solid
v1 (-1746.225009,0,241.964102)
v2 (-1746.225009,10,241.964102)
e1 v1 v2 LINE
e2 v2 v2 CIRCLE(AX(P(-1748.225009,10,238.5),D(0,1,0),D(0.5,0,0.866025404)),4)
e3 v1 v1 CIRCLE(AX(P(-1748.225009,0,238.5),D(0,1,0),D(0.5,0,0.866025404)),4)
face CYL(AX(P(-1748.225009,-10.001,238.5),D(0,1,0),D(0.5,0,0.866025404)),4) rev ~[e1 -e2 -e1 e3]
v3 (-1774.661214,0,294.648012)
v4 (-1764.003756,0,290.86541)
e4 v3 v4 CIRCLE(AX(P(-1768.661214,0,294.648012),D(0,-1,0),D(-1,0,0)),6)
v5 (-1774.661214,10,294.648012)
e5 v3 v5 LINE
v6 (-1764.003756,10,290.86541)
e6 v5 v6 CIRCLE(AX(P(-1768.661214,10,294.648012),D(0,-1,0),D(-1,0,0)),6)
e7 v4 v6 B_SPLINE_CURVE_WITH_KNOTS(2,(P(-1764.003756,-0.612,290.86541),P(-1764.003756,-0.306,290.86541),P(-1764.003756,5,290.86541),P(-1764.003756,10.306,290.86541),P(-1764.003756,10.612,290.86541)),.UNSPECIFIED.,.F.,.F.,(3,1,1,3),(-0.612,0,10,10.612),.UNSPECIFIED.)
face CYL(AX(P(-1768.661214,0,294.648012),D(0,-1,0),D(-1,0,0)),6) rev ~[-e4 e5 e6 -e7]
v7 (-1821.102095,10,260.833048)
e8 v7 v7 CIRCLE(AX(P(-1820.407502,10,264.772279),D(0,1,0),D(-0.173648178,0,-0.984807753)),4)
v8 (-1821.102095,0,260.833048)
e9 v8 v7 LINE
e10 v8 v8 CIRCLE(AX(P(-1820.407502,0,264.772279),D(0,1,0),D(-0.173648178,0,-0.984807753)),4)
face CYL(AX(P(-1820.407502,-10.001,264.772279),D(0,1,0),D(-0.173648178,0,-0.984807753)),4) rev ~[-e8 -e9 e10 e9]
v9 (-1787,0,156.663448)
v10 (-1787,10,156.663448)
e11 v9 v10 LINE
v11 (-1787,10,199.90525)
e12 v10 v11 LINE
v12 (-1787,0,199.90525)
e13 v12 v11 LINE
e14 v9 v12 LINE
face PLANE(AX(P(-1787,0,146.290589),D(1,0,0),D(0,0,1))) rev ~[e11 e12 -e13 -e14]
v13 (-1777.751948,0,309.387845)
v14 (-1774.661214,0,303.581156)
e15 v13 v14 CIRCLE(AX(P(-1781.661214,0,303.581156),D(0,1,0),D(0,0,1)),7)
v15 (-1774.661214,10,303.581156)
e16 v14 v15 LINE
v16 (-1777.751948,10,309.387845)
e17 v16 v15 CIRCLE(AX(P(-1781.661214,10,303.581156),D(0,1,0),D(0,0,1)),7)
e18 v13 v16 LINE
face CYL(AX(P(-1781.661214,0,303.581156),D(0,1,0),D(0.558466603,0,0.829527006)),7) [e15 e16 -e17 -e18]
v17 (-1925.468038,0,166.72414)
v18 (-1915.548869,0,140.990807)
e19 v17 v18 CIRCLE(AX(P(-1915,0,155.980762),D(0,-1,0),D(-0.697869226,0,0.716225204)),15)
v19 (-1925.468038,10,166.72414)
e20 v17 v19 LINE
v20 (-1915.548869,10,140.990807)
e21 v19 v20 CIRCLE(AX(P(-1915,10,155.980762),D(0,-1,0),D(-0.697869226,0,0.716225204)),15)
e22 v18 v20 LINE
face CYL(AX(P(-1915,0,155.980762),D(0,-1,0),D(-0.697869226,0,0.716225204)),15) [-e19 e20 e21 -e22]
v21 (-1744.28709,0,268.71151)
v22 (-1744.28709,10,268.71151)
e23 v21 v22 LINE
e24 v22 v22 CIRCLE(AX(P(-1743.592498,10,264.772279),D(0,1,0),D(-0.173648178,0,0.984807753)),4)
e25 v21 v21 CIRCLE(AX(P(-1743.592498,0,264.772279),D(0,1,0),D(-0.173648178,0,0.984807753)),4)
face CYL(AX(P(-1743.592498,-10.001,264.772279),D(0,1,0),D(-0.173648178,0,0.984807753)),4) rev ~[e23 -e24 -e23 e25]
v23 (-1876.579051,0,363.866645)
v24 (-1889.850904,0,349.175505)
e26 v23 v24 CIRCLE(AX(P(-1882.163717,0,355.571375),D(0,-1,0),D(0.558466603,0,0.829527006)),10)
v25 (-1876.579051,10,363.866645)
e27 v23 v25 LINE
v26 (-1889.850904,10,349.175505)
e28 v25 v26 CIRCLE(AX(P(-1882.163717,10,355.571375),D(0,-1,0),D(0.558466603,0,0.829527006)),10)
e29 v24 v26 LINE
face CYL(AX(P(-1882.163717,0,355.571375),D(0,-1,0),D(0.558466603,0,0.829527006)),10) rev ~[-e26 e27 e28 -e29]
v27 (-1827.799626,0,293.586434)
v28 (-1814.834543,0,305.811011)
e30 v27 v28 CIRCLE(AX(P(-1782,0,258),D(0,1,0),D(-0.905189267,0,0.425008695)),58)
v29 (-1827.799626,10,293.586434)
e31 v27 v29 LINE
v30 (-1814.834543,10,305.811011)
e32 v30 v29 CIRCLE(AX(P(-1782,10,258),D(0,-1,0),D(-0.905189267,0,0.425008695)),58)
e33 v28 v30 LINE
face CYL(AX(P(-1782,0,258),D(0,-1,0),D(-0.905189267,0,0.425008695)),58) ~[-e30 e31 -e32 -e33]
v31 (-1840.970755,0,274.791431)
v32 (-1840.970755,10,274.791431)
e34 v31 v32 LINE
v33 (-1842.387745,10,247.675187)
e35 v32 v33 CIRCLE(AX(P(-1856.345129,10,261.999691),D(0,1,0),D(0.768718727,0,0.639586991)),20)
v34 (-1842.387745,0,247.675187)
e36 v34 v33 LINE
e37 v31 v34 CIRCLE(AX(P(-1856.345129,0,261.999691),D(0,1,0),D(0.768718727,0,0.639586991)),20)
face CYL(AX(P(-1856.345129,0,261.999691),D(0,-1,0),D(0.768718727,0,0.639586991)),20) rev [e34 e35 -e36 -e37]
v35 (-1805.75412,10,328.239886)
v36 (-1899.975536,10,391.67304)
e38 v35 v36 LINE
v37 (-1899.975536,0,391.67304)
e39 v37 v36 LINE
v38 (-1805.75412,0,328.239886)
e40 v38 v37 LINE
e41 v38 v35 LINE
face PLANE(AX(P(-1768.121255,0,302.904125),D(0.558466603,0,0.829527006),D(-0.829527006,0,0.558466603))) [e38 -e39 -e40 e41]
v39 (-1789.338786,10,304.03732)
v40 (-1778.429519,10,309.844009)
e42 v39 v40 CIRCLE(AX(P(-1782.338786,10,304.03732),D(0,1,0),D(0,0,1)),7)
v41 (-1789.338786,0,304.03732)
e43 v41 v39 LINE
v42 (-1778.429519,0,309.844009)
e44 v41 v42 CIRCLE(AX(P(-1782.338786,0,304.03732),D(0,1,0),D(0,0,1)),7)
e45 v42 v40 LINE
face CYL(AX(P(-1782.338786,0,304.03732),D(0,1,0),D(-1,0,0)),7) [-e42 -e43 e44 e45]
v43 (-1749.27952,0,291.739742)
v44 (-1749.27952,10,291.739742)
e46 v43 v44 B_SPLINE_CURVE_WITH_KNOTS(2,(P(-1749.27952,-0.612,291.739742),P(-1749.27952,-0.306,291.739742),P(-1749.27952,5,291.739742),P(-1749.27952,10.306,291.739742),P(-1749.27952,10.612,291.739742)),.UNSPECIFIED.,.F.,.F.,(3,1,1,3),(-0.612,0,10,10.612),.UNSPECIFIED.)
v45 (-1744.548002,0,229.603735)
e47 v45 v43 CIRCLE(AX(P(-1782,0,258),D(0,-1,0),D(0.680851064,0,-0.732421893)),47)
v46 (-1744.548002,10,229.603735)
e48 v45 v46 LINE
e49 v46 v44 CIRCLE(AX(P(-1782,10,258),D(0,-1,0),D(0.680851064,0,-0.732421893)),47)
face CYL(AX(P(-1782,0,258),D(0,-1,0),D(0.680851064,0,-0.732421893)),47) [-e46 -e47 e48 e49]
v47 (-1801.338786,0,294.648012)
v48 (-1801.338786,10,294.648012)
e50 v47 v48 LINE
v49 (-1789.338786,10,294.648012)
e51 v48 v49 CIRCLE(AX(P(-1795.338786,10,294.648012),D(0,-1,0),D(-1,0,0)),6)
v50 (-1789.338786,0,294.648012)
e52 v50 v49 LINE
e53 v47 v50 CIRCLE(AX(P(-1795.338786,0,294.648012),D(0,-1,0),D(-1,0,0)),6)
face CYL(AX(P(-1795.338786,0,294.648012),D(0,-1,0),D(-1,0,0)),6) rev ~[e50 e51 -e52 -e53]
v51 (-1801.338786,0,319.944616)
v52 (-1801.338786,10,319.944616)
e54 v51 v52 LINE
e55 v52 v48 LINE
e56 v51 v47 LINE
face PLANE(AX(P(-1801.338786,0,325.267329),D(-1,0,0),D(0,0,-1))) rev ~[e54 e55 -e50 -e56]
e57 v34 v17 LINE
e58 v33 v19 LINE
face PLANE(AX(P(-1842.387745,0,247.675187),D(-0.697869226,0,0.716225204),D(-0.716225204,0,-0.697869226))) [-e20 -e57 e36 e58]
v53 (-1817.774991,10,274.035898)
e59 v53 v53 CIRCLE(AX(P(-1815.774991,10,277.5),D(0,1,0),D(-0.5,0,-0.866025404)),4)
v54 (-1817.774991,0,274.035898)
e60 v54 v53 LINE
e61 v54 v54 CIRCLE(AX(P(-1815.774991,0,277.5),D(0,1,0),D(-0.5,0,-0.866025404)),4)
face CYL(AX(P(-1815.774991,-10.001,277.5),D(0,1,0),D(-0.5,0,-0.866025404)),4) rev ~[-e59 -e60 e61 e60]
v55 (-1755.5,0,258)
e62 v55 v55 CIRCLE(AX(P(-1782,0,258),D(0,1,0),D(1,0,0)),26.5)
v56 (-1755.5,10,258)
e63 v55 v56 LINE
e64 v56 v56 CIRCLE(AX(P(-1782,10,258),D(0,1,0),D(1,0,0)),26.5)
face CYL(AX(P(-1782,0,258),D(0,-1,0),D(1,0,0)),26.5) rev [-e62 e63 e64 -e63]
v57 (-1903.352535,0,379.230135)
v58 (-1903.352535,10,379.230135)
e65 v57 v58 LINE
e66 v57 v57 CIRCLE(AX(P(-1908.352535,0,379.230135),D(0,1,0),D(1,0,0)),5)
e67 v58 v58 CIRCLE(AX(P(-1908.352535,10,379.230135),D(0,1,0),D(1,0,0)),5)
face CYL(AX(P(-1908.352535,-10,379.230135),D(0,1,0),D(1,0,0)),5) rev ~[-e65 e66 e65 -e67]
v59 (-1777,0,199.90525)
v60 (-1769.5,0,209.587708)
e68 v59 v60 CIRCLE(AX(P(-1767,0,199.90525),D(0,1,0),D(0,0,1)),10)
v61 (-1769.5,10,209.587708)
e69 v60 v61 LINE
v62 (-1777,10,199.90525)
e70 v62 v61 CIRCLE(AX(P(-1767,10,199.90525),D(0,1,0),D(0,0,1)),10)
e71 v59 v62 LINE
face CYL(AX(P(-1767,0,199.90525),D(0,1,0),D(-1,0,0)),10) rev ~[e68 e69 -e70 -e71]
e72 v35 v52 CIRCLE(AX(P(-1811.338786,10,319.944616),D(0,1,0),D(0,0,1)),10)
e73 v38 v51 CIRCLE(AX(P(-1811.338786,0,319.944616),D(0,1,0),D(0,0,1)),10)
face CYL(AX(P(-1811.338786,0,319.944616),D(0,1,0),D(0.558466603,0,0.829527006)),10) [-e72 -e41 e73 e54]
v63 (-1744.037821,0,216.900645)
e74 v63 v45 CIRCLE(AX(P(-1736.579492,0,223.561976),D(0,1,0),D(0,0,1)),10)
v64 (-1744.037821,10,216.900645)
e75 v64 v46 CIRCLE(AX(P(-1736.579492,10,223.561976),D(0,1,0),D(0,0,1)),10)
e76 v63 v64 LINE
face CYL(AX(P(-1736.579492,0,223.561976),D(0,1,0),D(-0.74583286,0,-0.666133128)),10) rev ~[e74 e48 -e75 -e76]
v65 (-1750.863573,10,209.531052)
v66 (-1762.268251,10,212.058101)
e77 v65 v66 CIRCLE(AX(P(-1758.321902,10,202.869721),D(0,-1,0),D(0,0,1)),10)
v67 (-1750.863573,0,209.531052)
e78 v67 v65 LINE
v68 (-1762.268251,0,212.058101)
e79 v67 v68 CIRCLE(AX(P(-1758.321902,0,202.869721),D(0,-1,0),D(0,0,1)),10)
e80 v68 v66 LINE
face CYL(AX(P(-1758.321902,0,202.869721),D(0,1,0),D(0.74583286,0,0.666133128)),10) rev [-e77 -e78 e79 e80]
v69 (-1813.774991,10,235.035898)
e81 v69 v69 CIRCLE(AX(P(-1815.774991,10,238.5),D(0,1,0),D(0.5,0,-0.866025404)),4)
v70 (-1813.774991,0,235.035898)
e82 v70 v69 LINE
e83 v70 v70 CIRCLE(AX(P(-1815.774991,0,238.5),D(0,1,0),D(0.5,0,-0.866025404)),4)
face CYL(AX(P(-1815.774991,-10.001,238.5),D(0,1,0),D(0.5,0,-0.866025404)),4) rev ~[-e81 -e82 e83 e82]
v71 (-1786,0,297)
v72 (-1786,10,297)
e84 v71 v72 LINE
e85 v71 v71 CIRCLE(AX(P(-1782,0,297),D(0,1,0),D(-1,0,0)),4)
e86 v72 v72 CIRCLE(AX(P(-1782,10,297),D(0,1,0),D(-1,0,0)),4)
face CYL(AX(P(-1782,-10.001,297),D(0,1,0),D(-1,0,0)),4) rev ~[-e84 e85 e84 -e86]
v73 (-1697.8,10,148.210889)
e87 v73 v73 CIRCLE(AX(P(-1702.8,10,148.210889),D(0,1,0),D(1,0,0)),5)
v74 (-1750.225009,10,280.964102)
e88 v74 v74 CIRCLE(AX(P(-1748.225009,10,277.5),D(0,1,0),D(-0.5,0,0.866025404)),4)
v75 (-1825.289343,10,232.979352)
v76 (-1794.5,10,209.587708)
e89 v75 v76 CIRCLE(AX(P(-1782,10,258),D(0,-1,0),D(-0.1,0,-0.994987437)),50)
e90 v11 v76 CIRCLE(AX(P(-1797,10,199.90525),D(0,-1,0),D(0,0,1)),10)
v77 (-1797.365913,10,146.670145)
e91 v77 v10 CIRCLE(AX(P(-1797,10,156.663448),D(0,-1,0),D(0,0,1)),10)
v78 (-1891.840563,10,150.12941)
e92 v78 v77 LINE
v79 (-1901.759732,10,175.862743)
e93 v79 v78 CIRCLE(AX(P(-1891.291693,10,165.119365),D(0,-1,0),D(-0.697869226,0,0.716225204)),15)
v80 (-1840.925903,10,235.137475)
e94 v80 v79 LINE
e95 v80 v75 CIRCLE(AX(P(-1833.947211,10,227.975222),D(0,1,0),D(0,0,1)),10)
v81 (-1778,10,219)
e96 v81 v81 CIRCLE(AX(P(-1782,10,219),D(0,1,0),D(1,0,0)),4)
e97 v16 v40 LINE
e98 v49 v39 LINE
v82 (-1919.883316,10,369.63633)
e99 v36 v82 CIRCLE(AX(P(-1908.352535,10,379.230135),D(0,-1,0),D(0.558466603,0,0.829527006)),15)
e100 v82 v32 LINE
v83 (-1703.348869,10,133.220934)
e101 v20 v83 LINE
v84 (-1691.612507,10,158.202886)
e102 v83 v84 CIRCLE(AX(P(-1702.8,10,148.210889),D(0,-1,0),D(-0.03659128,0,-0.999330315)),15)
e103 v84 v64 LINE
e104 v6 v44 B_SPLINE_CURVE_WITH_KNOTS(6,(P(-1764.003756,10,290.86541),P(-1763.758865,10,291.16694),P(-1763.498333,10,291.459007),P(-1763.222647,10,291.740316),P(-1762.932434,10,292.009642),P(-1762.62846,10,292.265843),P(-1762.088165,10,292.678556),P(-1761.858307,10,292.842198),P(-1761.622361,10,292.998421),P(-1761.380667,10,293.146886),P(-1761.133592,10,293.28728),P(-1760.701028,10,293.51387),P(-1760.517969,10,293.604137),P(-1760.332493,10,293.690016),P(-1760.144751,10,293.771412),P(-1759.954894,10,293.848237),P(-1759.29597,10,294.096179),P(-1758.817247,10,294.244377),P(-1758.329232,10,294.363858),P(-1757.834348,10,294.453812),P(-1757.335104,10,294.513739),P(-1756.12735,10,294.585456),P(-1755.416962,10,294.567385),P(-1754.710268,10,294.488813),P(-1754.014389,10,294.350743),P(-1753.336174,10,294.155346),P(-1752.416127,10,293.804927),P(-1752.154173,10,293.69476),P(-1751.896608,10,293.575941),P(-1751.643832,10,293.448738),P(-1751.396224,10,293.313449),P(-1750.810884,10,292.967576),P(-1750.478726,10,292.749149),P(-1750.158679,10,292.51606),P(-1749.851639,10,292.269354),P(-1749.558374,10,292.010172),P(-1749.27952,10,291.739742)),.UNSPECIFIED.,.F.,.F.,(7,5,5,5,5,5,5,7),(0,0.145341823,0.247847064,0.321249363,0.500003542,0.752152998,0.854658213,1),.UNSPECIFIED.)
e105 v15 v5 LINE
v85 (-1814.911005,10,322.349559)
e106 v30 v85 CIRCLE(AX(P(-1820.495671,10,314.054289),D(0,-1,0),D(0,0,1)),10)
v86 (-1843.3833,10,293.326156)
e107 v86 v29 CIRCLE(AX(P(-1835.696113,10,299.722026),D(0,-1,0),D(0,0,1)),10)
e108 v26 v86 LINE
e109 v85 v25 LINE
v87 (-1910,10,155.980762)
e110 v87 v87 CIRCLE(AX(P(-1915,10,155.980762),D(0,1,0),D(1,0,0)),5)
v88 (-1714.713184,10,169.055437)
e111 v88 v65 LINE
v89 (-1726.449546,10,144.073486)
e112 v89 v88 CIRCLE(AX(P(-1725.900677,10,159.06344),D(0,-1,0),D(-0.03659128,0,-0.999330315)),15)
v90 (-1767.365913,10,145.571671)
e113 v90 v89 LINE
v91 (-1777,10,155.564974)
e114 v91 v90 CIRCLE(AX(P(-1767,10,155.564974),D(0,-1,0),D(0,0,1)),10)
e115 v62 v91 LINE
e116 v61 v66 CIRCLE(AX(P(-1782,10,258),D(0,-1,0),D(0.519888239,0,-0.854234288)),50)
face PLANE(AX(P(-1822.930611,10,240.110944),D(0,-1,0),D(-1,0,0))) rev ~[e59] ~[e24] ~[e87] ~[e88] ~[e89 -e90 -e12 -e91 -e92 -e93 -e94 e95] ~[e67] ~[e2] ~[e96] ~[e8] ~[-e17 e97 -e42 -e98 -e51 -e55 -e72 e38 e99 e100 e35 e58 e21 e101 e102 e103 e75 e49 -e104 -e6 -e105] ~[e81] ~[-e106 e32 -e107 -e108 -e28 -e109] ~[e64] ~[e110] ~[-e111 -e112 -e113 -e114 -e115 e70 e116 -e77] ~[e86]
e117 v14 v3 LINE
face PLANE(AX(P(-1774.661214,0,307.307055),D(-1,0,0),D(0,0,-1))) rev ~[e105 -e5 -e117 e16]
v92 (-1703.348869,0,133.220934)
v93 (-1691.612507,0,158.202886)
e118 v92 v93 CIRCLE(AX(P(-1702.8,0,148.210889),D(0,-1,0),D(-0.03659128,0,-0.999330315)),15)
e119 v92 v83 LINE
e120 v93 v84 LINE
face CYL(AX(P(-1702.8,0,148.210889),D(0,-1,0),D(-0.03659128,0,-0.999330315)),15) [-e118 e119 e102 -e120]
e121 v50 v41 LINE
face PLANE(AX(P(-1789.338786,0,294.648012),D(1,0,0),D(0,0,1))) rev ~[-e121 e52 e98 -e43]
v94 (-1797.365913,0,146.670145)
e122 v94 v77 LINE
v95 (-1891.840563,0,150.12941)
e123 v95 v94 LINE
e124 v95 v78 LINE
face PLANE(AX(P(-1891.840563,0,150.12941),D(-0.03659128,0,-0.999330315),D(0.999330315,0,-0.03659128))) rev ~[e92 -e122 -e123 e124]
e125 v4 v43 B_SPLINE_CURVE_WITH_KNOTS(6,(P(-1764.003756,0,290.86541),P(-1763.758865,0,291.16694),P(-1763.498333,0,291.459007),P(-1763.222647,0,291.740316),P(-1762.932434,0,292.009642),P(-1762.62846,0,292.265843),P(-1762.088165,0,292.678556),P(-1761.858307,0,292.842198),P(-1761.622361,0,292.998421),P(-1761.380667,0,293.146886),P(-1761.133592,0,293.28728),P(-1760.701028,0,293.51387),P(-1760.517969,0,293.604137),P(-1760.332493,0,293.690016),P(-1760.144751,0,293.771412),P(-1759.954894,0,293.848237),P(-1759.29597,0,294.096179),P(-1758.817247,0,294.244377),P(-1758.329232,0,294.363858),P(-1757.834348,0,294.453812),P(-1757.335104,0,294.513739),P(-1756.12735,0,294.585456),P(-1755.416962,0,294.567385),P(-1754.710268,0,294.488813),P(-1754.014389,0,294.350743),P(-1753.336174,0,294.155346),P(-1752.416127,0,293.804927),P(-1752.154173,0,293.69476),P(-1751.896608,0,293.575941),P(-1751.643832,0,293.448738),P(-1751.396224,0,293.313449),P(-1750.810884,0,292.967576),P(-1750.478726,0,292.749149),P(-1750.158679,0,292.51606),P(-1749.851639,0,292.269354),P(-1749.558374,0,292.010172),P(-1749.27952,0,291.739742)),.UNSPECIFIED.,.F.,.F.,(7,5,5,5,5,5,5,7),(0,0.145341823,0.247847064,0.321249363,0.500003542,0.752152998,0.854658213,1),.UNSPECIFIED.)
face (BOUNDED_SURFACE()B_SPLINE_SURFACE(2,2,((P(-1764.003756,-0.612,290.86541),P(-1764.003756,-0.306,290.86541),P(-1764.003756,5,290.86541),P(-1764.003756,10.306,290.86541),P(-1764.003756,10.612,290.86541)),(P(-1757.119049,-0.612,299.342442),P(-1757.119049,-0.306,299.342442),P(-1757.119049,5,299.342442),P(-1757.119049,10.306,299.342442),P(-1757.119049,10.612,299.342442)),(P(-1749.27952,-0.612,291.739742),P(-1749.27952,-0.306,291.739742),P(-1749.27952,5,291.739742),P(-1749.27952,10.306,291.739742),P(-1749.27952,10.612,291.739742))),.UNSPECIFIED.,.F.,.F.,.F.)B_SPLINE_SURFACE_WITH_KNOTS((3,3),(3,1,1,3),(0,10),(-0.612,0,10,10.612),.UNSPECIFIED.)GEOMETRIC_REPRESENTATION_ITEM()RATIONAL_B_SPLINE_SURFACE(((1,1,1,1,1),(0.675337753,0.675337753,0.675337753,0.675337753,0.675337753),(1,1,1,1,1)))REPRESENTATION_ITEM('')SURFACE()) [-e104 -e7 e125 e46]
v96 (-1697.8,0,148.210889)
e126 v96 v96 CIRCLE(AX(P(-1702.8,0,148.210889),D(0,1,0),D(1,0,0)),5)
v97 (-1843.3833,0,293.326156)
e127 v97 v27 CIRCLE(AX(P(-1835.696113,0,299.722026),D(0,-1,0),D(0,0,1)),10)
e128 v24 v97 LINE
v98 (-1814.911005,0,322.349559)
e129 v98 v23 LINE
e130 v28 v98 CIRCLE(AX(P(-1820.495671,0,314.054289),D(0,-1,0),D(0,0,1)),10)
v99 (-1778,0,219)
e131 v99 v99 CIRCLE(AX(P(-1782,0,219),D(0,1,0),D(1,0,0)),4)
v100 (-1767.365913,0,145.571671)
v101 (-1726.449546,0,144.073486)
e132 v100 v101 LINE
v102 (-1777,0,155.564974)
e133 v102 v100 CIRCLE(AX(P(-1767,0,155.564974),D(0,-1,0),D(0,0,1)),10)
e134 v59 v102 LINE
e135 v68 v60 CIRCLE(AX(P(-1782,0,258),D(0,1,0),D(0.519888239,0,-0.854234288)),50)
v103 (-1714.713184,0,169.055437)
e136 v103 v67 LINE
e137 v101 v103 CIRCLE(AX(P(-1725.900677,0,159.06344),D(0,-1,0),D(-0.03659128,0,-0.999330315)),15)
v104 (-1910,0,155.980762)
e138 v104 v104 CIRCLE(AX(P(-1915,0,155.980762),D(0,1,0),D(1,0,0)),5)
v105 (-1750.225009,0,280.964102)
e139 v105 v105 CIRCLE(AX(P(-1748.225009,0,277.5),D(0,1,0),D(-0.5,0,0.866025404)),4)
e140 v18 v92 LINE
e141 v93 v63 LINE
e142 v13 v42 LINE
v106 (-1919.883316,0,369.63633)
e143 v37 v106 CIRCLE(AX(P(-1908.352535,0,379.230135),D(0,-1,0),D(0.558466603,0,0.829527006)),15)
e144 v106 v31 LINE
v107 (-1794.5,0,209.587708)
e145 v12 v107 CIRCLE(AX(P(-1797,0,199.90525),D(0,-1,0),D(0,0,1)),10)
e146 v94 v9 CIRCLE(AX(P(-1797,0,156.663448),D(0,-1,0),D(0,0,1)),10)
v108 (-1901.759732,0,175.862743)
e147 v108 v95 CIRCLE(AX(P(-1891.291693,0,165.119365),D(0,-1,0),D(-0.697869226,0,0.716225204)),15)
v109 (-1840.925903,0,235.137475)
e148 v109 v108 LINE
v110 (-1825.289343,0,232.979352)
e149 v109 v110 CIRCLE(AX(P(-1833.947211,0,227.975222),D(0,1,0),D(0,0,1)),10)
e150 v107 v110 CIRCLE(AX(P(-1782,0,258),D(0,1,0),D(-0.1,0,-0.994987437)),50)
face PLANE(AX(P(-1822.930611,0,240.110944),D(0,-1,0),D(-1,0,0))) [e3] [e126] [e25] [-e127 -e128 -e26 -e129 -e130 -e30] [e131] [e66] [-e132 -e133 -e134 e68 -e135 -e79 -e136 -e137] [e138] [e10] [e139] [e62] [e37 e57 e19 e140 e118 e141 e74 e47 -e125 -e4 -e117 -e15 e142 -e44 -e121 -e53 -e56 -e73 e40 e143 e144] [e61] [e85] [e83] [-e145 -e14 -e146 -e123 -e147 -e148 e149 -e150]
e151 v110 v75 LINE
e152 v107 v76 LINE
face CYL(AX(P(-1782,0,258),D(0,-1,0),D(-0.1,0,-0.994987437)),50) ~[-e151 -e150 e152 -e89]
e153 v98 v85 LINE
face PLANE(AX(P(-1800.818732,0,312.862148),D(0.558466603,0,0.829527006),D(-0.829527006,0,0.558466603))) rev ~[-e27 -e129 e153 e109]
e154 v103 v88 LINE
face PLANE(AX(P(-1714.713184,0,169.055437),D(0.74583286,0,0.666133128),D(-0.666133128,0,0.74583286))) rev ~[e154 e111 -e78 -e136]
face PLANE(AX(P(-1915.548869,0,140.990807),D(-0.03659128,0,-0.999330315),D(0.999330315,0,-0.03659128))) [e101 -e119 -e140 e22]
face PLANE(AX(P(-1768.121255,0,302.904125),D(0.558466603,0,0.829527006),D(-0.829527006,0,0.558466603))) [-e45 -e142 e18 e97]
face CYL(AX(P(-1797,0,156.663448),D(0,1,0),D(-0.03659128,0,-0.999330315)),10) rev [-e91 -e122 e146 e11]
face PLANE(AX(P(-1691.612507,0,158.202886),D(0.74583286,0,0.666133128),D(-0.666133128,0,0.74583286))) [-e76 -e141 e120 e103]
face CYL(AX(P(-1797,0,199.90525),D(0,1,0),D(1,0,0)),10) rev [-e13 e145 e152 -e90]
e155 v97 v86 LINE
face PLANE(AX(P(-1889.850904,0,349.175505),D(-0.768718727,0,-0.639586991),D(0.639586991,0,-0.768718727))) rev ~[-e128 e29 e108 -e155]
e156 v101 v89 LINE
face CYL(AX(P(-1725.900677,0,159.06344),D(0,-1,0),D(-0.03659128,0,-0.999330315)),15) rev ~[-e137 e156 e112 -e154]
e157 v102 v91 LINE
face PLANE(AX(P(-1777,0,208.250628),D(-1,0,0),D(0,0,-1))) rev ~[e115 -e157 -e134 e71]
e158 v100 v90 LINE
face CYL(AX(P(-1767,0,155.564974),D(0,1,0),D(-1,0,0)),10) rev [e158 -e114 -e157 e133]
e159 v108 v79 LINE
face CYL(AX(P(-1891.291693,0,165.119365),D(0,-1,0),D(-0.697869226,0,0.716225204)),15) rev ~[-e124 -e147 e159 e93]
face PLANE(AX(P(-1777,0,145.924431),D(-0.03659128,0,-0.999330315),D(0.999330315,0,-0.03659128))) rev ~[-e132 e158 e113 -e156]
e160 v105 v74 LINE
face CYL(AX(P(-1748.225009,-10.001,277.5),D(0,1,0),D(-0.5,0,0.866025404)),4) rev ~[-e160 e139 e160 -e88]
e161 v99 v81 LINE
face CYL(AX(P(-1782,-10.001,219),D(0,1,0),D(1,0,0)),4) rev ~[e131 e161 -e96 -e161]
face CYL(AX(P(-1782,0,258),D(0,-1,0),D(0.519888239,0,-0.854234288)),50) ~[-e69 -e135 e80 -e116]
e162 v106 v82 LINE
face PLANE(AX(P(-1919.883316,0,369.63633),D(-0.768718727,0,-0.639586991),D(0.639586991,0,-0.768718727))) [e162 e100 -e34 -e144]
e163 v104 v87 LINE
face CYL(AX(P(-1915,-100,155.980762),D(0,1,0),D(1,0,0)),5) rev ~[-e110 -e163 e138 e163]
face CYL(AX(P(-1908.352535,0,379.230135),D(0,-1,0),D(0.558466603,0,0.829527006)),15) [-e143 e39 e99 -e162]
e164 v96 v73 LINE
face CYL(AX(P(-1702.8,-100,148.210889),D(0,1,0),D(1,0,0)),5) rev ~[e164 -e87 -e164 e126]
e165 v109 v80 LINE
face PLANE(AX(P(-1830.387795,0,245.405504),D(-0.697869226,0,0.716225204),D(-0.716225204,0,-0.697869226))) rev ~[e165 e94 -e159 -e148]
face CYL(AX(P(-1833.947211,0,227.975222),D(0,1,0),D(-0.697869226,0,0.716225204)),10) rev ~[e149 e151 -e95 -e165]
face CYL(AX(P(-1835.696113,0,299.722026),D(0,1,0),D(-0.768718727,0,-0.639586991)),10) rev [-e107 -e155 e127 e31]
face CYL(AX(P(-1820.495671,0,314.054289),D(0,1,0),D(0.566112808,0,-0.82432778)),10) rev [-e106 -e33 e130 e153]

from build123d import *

# Parameters (mm, degrees)
SZKIC3_R                    = 26.5
DODANIE_WYCI_GNI_CIE1_DEPTH = 10
OTW_R1_D                    = 8
OTW_R1_DEPTH                = 10.001
SZYK_KO_OWY1_COUNT          = 18
OTW_R2_D                    = 10
OTW_R2_DEPTH                = 100
OTW_R3_D                    = 10
OTW_R3_DEPTH                = 100
OTW_R4_D                    = 10
OTW_R4_DEPTH                = 10
WYTNIJ_WYCI_GNI_CIE1_DEPTH  = 11
ZAOKR_GLENIE1_R             = 10
OTW_R5_D                    = 10
OTW_R5_DEPTH                = 10
WYTNIJ_WYCI_GNI_CIE2_DEPTH  = 10
ZAOKR_GLENIE2_R             = 10
ZAOKR_GLENIE7_R             = 7


with BuildPart() as part:
    # Szkic3 → Dodanie-wyciągnięcie1 (new body)
    with BuildSketch(Plane(origin=(0, 0, 0), x_dir=(1, 0, 0), z_dir=(0, 1, 0))):
        with BuildLine():
            Line((-1915.5488692, -140.99080739), (-1703.3488692, -133.220934409))
            ThreePointArc((-1703.3488692, -133.220934409), (-1689.223566168, -141.832766807), (-1691.612507096, -158.202886057))
            Line((-1691.612507096, -158.202886057), (-1750, -223.576171044))
            ThreePointArc((-1750, -223.576171044), (-1736.180289372, -268.466810303), (-1768.121254646, -302.904124837))
            Line((-1768.121254646, -302.904124837), (-1899.97553639, -391.673040436))
            ThreePointArc((-1899.97553639, -391.673040436), (-1919.48315677, -389.285445814), (-1919.883316335, -369.636330483))
            Line((-1919.883316335, -369.636330483), (-1840.970754815, -274.791431046))
            ThreePointArc((-1840.970754815, -274.791431046), (-1836.372380588, -260.955992635), (-1842.387744834, -247.675187141))
            Line((-1842.387744834, -247.675187141), (-1925.46803839, -166.72414018))
            ThreePointArc((-1925.46803839, -166.72414018), (-1928.996219751, -150.585779938), (-1915.5488692, -140.99080739))
        make_face()
        with Locations((-1782, -258)):
            Circle(SZKIC3_R, mode=Mode.SUBTRACT)
    extrude(amount=DODANIE_WYCI_GNI_CIE1_DEPTH)

    # Otwór1
    with Locations(Plane(origin=(0, 0, 0), x_dir=(-1, 0, 0), z_dir=(0, -1, 0))):
        with Locations((1782, -219)):
            otw_r1 = Hole(OTW_R1_D / 2, depth=OTW_R1_DEPTH)

    # Szyk kołowy1: Otwór1 ×18 about axis, 10 skipped
    szyk_ko_owy1_axis = Axis((-1782, 10, 258), (0, -1, 0))
    add([otw_r1.rotate(szyk_ko_owy1_axis, i * 360 / SZYK_KO_OWY1_COUNT) for i in range(1, SZYK_KO_OWY1_COUNT) if i not in (1, 2, 4, 7, 8, 10, 11, 14, 16, 17)], mode=Mode.SUBTRACT)

    # Otwór2
    with Locations(Plane(origin=(0, 0, 0), x_dir=(-1, 0, 0), z_dir=(0, -1, 0))):
        with Locations((1702.8, -148.210889132)):
            Hole(OTW_R2_D / 2, depth=OTW_R2_DEPTH)

    # Otwór3
    with Locations(Plane(origin=(0, 0, 0), x_dir=(-1, 0, 0), z_dir=(0, -1, 0))):
        with Locations((1915, -155.980762114)):
            Hole(OTW_R3_D / 2, depth=OTW_R3_DEPTH)

    # Otwór4
    with Locations(Plane(origin=(0, 0, 0), x_dir=(-1, 0, 0), z_dir=(0, -1, 0))):
        with Locations((1908.352535431, -379.230135346)):
            Hole(OTW_R4_D / 2, depth=OTW_R4_DEPTH)

    # Szkic14 → Wytnij-wyciągnięcie1 (cut, through all)
    with BuildSketch(Plane(origin=(0, 0, 0), x_dir=(-1, 0, 0), z_dir=(0, -1, 0))):
        with BuildLine():
            Line((1830.387794708, -245.405504247), (1901.759731773, -175.862742881))
            ThreePointArc((1901.759731773, -175.862742881), (1905.287913135, -159.724382638), (1891.840562583, -150.129410091))
            Line((1891.840562583, -150.129410091), (1787, -146.290588911))
            Line((1787, -146.290588911), (1787, -208.250628145))
            ThreePointArc((1787, -208.250628145), (1814.522074972, -220.02218227), (1830.387794708, -245.405504247))
        make_face()
        with BuildLine():
            Line((1777, -208.250628145), (1777, -145.9244309))
            Line((1777, -145.9244309), (1726.449545971, -144.073485533))
            ThreePointArc((1726.449545971, -144.073485533), (1712.324242939, -152.685317931), (1714.713183868, -169.05543718))
            Line((1714.713183868, -169.05543718), (1756.005588073, -215.288285581))
            ThreePointArc((1756.005588073, -215.288285581), (1766.10831827, -210.592675125), (1777, -208.250628145))
        make_face()
        with BuildLine():
            Line((1889.850904158, -349.175505229), (1834.500977493, -282.650504301))
            ThreePointArc((1834.500977493, -282.650504301), (1820.727394871, -301.176253734), (1800.818732436, -312.86214824))
            Line((1800.818732436, -312.86214824), (1876.579050862, -363.866645198))
            ThreePointArc((1876.579050862, -363.866645198), (1889.584131115, -362.27491545), (1889.850904158, -349.175505229))
        make_face()
    extrude(amount=-WYTNIJ_WYCI_GNI_CIE1_DEPTH, mode=Mode.SUBTRACT)

    # Zaokrąglenie1
    zaokr_glenie1_edges = [part.edges().sort_by_distance(p)[0] for p in [
        (-1800.818732436, 5, 312.86214824),
        (-1834.500977493, 5, 282.650504301),
        (-1777, 5, 208.250628145),
        (-1756.005588073, 5, 215.288285581),
        (-1777, 5, 145.9244309),
        (-1830.387794708, 5, 245.405504247),
        (-1787, 5, 208.250628145),
        (-1787, 5, 146.290588911),
        (-1750, 5, 223.576171044),
        (-1768.121254646, 5, 302.904124837),
    ]]
    fillet(zaokr_glenie1_edges, radius=ZAOKR_GLENIE1_R)

    # Otwór5
    with Locations(Plane(origin=(0, 0, 0), x_dir=(-1, 0, 0), z_dir=(0, -1, 0))):
        with Locations((1795.33878559, -294.648012211), (1768.66121441, -294.648012211)):
            Hole(OTW_R5_D / 2, depth=OTW_R5_DEPTH)

    # Szkic18 → Wytnij-wyciągnięcie2 (cut)
    with BuildSketch(Plane(origin=(0, 0, 0), x_dir=(-1, 0, 0), z_dir=(0, -1, 0))):
        with BuildLine():
            Line((1762.66121441, -294.648012211), (1762.66121441, -300.837032716))
            ThreePointArc((1762.66121441, -300.837032716), (1764.765334946, -301.7260371), (1766.910163713, -302.511760703))
            ThreePointArc((1766.910163713, -302.511760703), (1768.13628585, -303.020458445), (1769.284226275, -303.687078026))
            Line((1769.284226275, -303.687078026), (1774.66121441, -307.307054561))
            Line((1774.66121441, -307.307054561), (1774.66121441, -294.648012211))
            ThreePointArc((1774.66121441, -294.648012211), (1768.66121441, -288.648012211), (1762.66121441, -294.648012211))
        make_face()
        with BuildLine():
            Line((1789.33878559, -294.648012211), (1789.33878559, -317.188508997))
            Line((1789.33878559, -317.188508997), (1801.33878559, -325.267328836))
            Line((1801.33878559, -325.267328836), (1801.33878559, -294.648012211))
            ThreePointArc((1801.33878559, -294.648012211), (1795.33878559, -288.648012211), (1789.33878559, -294.648012211))
        make_face()
    extrude(amount=-WYTNIJ_WYCI_GNI_CIE2_DEPTH, mode=Mode.SUBTRACT)

    # Zaokrąglenie2
    zaokr_glenie2_edges = [part.edges().sort_by_distance(p)[0] for p in [
        (-1762.66121441, 5, 300.837032716),
        (-1801.33878559, 5, 325.267328836),
    ]]
    fillet(zaokr_glenie2_edges, radius=ZAOKR_GLENIE2_R)

    # Zaokrąglenie7
    zaokr_glenie7_edges = [part.edges().sort_by_distance(p)[0] for p in [
        (-1774.66121441, 5, 307.307054561),
        (-1789.33878559, 5, 317.188508997),
    ]]
    fillet(zaokr_glenie7_edges, radius=ZAOKR_GLENIE7_R)


solid = part.part
